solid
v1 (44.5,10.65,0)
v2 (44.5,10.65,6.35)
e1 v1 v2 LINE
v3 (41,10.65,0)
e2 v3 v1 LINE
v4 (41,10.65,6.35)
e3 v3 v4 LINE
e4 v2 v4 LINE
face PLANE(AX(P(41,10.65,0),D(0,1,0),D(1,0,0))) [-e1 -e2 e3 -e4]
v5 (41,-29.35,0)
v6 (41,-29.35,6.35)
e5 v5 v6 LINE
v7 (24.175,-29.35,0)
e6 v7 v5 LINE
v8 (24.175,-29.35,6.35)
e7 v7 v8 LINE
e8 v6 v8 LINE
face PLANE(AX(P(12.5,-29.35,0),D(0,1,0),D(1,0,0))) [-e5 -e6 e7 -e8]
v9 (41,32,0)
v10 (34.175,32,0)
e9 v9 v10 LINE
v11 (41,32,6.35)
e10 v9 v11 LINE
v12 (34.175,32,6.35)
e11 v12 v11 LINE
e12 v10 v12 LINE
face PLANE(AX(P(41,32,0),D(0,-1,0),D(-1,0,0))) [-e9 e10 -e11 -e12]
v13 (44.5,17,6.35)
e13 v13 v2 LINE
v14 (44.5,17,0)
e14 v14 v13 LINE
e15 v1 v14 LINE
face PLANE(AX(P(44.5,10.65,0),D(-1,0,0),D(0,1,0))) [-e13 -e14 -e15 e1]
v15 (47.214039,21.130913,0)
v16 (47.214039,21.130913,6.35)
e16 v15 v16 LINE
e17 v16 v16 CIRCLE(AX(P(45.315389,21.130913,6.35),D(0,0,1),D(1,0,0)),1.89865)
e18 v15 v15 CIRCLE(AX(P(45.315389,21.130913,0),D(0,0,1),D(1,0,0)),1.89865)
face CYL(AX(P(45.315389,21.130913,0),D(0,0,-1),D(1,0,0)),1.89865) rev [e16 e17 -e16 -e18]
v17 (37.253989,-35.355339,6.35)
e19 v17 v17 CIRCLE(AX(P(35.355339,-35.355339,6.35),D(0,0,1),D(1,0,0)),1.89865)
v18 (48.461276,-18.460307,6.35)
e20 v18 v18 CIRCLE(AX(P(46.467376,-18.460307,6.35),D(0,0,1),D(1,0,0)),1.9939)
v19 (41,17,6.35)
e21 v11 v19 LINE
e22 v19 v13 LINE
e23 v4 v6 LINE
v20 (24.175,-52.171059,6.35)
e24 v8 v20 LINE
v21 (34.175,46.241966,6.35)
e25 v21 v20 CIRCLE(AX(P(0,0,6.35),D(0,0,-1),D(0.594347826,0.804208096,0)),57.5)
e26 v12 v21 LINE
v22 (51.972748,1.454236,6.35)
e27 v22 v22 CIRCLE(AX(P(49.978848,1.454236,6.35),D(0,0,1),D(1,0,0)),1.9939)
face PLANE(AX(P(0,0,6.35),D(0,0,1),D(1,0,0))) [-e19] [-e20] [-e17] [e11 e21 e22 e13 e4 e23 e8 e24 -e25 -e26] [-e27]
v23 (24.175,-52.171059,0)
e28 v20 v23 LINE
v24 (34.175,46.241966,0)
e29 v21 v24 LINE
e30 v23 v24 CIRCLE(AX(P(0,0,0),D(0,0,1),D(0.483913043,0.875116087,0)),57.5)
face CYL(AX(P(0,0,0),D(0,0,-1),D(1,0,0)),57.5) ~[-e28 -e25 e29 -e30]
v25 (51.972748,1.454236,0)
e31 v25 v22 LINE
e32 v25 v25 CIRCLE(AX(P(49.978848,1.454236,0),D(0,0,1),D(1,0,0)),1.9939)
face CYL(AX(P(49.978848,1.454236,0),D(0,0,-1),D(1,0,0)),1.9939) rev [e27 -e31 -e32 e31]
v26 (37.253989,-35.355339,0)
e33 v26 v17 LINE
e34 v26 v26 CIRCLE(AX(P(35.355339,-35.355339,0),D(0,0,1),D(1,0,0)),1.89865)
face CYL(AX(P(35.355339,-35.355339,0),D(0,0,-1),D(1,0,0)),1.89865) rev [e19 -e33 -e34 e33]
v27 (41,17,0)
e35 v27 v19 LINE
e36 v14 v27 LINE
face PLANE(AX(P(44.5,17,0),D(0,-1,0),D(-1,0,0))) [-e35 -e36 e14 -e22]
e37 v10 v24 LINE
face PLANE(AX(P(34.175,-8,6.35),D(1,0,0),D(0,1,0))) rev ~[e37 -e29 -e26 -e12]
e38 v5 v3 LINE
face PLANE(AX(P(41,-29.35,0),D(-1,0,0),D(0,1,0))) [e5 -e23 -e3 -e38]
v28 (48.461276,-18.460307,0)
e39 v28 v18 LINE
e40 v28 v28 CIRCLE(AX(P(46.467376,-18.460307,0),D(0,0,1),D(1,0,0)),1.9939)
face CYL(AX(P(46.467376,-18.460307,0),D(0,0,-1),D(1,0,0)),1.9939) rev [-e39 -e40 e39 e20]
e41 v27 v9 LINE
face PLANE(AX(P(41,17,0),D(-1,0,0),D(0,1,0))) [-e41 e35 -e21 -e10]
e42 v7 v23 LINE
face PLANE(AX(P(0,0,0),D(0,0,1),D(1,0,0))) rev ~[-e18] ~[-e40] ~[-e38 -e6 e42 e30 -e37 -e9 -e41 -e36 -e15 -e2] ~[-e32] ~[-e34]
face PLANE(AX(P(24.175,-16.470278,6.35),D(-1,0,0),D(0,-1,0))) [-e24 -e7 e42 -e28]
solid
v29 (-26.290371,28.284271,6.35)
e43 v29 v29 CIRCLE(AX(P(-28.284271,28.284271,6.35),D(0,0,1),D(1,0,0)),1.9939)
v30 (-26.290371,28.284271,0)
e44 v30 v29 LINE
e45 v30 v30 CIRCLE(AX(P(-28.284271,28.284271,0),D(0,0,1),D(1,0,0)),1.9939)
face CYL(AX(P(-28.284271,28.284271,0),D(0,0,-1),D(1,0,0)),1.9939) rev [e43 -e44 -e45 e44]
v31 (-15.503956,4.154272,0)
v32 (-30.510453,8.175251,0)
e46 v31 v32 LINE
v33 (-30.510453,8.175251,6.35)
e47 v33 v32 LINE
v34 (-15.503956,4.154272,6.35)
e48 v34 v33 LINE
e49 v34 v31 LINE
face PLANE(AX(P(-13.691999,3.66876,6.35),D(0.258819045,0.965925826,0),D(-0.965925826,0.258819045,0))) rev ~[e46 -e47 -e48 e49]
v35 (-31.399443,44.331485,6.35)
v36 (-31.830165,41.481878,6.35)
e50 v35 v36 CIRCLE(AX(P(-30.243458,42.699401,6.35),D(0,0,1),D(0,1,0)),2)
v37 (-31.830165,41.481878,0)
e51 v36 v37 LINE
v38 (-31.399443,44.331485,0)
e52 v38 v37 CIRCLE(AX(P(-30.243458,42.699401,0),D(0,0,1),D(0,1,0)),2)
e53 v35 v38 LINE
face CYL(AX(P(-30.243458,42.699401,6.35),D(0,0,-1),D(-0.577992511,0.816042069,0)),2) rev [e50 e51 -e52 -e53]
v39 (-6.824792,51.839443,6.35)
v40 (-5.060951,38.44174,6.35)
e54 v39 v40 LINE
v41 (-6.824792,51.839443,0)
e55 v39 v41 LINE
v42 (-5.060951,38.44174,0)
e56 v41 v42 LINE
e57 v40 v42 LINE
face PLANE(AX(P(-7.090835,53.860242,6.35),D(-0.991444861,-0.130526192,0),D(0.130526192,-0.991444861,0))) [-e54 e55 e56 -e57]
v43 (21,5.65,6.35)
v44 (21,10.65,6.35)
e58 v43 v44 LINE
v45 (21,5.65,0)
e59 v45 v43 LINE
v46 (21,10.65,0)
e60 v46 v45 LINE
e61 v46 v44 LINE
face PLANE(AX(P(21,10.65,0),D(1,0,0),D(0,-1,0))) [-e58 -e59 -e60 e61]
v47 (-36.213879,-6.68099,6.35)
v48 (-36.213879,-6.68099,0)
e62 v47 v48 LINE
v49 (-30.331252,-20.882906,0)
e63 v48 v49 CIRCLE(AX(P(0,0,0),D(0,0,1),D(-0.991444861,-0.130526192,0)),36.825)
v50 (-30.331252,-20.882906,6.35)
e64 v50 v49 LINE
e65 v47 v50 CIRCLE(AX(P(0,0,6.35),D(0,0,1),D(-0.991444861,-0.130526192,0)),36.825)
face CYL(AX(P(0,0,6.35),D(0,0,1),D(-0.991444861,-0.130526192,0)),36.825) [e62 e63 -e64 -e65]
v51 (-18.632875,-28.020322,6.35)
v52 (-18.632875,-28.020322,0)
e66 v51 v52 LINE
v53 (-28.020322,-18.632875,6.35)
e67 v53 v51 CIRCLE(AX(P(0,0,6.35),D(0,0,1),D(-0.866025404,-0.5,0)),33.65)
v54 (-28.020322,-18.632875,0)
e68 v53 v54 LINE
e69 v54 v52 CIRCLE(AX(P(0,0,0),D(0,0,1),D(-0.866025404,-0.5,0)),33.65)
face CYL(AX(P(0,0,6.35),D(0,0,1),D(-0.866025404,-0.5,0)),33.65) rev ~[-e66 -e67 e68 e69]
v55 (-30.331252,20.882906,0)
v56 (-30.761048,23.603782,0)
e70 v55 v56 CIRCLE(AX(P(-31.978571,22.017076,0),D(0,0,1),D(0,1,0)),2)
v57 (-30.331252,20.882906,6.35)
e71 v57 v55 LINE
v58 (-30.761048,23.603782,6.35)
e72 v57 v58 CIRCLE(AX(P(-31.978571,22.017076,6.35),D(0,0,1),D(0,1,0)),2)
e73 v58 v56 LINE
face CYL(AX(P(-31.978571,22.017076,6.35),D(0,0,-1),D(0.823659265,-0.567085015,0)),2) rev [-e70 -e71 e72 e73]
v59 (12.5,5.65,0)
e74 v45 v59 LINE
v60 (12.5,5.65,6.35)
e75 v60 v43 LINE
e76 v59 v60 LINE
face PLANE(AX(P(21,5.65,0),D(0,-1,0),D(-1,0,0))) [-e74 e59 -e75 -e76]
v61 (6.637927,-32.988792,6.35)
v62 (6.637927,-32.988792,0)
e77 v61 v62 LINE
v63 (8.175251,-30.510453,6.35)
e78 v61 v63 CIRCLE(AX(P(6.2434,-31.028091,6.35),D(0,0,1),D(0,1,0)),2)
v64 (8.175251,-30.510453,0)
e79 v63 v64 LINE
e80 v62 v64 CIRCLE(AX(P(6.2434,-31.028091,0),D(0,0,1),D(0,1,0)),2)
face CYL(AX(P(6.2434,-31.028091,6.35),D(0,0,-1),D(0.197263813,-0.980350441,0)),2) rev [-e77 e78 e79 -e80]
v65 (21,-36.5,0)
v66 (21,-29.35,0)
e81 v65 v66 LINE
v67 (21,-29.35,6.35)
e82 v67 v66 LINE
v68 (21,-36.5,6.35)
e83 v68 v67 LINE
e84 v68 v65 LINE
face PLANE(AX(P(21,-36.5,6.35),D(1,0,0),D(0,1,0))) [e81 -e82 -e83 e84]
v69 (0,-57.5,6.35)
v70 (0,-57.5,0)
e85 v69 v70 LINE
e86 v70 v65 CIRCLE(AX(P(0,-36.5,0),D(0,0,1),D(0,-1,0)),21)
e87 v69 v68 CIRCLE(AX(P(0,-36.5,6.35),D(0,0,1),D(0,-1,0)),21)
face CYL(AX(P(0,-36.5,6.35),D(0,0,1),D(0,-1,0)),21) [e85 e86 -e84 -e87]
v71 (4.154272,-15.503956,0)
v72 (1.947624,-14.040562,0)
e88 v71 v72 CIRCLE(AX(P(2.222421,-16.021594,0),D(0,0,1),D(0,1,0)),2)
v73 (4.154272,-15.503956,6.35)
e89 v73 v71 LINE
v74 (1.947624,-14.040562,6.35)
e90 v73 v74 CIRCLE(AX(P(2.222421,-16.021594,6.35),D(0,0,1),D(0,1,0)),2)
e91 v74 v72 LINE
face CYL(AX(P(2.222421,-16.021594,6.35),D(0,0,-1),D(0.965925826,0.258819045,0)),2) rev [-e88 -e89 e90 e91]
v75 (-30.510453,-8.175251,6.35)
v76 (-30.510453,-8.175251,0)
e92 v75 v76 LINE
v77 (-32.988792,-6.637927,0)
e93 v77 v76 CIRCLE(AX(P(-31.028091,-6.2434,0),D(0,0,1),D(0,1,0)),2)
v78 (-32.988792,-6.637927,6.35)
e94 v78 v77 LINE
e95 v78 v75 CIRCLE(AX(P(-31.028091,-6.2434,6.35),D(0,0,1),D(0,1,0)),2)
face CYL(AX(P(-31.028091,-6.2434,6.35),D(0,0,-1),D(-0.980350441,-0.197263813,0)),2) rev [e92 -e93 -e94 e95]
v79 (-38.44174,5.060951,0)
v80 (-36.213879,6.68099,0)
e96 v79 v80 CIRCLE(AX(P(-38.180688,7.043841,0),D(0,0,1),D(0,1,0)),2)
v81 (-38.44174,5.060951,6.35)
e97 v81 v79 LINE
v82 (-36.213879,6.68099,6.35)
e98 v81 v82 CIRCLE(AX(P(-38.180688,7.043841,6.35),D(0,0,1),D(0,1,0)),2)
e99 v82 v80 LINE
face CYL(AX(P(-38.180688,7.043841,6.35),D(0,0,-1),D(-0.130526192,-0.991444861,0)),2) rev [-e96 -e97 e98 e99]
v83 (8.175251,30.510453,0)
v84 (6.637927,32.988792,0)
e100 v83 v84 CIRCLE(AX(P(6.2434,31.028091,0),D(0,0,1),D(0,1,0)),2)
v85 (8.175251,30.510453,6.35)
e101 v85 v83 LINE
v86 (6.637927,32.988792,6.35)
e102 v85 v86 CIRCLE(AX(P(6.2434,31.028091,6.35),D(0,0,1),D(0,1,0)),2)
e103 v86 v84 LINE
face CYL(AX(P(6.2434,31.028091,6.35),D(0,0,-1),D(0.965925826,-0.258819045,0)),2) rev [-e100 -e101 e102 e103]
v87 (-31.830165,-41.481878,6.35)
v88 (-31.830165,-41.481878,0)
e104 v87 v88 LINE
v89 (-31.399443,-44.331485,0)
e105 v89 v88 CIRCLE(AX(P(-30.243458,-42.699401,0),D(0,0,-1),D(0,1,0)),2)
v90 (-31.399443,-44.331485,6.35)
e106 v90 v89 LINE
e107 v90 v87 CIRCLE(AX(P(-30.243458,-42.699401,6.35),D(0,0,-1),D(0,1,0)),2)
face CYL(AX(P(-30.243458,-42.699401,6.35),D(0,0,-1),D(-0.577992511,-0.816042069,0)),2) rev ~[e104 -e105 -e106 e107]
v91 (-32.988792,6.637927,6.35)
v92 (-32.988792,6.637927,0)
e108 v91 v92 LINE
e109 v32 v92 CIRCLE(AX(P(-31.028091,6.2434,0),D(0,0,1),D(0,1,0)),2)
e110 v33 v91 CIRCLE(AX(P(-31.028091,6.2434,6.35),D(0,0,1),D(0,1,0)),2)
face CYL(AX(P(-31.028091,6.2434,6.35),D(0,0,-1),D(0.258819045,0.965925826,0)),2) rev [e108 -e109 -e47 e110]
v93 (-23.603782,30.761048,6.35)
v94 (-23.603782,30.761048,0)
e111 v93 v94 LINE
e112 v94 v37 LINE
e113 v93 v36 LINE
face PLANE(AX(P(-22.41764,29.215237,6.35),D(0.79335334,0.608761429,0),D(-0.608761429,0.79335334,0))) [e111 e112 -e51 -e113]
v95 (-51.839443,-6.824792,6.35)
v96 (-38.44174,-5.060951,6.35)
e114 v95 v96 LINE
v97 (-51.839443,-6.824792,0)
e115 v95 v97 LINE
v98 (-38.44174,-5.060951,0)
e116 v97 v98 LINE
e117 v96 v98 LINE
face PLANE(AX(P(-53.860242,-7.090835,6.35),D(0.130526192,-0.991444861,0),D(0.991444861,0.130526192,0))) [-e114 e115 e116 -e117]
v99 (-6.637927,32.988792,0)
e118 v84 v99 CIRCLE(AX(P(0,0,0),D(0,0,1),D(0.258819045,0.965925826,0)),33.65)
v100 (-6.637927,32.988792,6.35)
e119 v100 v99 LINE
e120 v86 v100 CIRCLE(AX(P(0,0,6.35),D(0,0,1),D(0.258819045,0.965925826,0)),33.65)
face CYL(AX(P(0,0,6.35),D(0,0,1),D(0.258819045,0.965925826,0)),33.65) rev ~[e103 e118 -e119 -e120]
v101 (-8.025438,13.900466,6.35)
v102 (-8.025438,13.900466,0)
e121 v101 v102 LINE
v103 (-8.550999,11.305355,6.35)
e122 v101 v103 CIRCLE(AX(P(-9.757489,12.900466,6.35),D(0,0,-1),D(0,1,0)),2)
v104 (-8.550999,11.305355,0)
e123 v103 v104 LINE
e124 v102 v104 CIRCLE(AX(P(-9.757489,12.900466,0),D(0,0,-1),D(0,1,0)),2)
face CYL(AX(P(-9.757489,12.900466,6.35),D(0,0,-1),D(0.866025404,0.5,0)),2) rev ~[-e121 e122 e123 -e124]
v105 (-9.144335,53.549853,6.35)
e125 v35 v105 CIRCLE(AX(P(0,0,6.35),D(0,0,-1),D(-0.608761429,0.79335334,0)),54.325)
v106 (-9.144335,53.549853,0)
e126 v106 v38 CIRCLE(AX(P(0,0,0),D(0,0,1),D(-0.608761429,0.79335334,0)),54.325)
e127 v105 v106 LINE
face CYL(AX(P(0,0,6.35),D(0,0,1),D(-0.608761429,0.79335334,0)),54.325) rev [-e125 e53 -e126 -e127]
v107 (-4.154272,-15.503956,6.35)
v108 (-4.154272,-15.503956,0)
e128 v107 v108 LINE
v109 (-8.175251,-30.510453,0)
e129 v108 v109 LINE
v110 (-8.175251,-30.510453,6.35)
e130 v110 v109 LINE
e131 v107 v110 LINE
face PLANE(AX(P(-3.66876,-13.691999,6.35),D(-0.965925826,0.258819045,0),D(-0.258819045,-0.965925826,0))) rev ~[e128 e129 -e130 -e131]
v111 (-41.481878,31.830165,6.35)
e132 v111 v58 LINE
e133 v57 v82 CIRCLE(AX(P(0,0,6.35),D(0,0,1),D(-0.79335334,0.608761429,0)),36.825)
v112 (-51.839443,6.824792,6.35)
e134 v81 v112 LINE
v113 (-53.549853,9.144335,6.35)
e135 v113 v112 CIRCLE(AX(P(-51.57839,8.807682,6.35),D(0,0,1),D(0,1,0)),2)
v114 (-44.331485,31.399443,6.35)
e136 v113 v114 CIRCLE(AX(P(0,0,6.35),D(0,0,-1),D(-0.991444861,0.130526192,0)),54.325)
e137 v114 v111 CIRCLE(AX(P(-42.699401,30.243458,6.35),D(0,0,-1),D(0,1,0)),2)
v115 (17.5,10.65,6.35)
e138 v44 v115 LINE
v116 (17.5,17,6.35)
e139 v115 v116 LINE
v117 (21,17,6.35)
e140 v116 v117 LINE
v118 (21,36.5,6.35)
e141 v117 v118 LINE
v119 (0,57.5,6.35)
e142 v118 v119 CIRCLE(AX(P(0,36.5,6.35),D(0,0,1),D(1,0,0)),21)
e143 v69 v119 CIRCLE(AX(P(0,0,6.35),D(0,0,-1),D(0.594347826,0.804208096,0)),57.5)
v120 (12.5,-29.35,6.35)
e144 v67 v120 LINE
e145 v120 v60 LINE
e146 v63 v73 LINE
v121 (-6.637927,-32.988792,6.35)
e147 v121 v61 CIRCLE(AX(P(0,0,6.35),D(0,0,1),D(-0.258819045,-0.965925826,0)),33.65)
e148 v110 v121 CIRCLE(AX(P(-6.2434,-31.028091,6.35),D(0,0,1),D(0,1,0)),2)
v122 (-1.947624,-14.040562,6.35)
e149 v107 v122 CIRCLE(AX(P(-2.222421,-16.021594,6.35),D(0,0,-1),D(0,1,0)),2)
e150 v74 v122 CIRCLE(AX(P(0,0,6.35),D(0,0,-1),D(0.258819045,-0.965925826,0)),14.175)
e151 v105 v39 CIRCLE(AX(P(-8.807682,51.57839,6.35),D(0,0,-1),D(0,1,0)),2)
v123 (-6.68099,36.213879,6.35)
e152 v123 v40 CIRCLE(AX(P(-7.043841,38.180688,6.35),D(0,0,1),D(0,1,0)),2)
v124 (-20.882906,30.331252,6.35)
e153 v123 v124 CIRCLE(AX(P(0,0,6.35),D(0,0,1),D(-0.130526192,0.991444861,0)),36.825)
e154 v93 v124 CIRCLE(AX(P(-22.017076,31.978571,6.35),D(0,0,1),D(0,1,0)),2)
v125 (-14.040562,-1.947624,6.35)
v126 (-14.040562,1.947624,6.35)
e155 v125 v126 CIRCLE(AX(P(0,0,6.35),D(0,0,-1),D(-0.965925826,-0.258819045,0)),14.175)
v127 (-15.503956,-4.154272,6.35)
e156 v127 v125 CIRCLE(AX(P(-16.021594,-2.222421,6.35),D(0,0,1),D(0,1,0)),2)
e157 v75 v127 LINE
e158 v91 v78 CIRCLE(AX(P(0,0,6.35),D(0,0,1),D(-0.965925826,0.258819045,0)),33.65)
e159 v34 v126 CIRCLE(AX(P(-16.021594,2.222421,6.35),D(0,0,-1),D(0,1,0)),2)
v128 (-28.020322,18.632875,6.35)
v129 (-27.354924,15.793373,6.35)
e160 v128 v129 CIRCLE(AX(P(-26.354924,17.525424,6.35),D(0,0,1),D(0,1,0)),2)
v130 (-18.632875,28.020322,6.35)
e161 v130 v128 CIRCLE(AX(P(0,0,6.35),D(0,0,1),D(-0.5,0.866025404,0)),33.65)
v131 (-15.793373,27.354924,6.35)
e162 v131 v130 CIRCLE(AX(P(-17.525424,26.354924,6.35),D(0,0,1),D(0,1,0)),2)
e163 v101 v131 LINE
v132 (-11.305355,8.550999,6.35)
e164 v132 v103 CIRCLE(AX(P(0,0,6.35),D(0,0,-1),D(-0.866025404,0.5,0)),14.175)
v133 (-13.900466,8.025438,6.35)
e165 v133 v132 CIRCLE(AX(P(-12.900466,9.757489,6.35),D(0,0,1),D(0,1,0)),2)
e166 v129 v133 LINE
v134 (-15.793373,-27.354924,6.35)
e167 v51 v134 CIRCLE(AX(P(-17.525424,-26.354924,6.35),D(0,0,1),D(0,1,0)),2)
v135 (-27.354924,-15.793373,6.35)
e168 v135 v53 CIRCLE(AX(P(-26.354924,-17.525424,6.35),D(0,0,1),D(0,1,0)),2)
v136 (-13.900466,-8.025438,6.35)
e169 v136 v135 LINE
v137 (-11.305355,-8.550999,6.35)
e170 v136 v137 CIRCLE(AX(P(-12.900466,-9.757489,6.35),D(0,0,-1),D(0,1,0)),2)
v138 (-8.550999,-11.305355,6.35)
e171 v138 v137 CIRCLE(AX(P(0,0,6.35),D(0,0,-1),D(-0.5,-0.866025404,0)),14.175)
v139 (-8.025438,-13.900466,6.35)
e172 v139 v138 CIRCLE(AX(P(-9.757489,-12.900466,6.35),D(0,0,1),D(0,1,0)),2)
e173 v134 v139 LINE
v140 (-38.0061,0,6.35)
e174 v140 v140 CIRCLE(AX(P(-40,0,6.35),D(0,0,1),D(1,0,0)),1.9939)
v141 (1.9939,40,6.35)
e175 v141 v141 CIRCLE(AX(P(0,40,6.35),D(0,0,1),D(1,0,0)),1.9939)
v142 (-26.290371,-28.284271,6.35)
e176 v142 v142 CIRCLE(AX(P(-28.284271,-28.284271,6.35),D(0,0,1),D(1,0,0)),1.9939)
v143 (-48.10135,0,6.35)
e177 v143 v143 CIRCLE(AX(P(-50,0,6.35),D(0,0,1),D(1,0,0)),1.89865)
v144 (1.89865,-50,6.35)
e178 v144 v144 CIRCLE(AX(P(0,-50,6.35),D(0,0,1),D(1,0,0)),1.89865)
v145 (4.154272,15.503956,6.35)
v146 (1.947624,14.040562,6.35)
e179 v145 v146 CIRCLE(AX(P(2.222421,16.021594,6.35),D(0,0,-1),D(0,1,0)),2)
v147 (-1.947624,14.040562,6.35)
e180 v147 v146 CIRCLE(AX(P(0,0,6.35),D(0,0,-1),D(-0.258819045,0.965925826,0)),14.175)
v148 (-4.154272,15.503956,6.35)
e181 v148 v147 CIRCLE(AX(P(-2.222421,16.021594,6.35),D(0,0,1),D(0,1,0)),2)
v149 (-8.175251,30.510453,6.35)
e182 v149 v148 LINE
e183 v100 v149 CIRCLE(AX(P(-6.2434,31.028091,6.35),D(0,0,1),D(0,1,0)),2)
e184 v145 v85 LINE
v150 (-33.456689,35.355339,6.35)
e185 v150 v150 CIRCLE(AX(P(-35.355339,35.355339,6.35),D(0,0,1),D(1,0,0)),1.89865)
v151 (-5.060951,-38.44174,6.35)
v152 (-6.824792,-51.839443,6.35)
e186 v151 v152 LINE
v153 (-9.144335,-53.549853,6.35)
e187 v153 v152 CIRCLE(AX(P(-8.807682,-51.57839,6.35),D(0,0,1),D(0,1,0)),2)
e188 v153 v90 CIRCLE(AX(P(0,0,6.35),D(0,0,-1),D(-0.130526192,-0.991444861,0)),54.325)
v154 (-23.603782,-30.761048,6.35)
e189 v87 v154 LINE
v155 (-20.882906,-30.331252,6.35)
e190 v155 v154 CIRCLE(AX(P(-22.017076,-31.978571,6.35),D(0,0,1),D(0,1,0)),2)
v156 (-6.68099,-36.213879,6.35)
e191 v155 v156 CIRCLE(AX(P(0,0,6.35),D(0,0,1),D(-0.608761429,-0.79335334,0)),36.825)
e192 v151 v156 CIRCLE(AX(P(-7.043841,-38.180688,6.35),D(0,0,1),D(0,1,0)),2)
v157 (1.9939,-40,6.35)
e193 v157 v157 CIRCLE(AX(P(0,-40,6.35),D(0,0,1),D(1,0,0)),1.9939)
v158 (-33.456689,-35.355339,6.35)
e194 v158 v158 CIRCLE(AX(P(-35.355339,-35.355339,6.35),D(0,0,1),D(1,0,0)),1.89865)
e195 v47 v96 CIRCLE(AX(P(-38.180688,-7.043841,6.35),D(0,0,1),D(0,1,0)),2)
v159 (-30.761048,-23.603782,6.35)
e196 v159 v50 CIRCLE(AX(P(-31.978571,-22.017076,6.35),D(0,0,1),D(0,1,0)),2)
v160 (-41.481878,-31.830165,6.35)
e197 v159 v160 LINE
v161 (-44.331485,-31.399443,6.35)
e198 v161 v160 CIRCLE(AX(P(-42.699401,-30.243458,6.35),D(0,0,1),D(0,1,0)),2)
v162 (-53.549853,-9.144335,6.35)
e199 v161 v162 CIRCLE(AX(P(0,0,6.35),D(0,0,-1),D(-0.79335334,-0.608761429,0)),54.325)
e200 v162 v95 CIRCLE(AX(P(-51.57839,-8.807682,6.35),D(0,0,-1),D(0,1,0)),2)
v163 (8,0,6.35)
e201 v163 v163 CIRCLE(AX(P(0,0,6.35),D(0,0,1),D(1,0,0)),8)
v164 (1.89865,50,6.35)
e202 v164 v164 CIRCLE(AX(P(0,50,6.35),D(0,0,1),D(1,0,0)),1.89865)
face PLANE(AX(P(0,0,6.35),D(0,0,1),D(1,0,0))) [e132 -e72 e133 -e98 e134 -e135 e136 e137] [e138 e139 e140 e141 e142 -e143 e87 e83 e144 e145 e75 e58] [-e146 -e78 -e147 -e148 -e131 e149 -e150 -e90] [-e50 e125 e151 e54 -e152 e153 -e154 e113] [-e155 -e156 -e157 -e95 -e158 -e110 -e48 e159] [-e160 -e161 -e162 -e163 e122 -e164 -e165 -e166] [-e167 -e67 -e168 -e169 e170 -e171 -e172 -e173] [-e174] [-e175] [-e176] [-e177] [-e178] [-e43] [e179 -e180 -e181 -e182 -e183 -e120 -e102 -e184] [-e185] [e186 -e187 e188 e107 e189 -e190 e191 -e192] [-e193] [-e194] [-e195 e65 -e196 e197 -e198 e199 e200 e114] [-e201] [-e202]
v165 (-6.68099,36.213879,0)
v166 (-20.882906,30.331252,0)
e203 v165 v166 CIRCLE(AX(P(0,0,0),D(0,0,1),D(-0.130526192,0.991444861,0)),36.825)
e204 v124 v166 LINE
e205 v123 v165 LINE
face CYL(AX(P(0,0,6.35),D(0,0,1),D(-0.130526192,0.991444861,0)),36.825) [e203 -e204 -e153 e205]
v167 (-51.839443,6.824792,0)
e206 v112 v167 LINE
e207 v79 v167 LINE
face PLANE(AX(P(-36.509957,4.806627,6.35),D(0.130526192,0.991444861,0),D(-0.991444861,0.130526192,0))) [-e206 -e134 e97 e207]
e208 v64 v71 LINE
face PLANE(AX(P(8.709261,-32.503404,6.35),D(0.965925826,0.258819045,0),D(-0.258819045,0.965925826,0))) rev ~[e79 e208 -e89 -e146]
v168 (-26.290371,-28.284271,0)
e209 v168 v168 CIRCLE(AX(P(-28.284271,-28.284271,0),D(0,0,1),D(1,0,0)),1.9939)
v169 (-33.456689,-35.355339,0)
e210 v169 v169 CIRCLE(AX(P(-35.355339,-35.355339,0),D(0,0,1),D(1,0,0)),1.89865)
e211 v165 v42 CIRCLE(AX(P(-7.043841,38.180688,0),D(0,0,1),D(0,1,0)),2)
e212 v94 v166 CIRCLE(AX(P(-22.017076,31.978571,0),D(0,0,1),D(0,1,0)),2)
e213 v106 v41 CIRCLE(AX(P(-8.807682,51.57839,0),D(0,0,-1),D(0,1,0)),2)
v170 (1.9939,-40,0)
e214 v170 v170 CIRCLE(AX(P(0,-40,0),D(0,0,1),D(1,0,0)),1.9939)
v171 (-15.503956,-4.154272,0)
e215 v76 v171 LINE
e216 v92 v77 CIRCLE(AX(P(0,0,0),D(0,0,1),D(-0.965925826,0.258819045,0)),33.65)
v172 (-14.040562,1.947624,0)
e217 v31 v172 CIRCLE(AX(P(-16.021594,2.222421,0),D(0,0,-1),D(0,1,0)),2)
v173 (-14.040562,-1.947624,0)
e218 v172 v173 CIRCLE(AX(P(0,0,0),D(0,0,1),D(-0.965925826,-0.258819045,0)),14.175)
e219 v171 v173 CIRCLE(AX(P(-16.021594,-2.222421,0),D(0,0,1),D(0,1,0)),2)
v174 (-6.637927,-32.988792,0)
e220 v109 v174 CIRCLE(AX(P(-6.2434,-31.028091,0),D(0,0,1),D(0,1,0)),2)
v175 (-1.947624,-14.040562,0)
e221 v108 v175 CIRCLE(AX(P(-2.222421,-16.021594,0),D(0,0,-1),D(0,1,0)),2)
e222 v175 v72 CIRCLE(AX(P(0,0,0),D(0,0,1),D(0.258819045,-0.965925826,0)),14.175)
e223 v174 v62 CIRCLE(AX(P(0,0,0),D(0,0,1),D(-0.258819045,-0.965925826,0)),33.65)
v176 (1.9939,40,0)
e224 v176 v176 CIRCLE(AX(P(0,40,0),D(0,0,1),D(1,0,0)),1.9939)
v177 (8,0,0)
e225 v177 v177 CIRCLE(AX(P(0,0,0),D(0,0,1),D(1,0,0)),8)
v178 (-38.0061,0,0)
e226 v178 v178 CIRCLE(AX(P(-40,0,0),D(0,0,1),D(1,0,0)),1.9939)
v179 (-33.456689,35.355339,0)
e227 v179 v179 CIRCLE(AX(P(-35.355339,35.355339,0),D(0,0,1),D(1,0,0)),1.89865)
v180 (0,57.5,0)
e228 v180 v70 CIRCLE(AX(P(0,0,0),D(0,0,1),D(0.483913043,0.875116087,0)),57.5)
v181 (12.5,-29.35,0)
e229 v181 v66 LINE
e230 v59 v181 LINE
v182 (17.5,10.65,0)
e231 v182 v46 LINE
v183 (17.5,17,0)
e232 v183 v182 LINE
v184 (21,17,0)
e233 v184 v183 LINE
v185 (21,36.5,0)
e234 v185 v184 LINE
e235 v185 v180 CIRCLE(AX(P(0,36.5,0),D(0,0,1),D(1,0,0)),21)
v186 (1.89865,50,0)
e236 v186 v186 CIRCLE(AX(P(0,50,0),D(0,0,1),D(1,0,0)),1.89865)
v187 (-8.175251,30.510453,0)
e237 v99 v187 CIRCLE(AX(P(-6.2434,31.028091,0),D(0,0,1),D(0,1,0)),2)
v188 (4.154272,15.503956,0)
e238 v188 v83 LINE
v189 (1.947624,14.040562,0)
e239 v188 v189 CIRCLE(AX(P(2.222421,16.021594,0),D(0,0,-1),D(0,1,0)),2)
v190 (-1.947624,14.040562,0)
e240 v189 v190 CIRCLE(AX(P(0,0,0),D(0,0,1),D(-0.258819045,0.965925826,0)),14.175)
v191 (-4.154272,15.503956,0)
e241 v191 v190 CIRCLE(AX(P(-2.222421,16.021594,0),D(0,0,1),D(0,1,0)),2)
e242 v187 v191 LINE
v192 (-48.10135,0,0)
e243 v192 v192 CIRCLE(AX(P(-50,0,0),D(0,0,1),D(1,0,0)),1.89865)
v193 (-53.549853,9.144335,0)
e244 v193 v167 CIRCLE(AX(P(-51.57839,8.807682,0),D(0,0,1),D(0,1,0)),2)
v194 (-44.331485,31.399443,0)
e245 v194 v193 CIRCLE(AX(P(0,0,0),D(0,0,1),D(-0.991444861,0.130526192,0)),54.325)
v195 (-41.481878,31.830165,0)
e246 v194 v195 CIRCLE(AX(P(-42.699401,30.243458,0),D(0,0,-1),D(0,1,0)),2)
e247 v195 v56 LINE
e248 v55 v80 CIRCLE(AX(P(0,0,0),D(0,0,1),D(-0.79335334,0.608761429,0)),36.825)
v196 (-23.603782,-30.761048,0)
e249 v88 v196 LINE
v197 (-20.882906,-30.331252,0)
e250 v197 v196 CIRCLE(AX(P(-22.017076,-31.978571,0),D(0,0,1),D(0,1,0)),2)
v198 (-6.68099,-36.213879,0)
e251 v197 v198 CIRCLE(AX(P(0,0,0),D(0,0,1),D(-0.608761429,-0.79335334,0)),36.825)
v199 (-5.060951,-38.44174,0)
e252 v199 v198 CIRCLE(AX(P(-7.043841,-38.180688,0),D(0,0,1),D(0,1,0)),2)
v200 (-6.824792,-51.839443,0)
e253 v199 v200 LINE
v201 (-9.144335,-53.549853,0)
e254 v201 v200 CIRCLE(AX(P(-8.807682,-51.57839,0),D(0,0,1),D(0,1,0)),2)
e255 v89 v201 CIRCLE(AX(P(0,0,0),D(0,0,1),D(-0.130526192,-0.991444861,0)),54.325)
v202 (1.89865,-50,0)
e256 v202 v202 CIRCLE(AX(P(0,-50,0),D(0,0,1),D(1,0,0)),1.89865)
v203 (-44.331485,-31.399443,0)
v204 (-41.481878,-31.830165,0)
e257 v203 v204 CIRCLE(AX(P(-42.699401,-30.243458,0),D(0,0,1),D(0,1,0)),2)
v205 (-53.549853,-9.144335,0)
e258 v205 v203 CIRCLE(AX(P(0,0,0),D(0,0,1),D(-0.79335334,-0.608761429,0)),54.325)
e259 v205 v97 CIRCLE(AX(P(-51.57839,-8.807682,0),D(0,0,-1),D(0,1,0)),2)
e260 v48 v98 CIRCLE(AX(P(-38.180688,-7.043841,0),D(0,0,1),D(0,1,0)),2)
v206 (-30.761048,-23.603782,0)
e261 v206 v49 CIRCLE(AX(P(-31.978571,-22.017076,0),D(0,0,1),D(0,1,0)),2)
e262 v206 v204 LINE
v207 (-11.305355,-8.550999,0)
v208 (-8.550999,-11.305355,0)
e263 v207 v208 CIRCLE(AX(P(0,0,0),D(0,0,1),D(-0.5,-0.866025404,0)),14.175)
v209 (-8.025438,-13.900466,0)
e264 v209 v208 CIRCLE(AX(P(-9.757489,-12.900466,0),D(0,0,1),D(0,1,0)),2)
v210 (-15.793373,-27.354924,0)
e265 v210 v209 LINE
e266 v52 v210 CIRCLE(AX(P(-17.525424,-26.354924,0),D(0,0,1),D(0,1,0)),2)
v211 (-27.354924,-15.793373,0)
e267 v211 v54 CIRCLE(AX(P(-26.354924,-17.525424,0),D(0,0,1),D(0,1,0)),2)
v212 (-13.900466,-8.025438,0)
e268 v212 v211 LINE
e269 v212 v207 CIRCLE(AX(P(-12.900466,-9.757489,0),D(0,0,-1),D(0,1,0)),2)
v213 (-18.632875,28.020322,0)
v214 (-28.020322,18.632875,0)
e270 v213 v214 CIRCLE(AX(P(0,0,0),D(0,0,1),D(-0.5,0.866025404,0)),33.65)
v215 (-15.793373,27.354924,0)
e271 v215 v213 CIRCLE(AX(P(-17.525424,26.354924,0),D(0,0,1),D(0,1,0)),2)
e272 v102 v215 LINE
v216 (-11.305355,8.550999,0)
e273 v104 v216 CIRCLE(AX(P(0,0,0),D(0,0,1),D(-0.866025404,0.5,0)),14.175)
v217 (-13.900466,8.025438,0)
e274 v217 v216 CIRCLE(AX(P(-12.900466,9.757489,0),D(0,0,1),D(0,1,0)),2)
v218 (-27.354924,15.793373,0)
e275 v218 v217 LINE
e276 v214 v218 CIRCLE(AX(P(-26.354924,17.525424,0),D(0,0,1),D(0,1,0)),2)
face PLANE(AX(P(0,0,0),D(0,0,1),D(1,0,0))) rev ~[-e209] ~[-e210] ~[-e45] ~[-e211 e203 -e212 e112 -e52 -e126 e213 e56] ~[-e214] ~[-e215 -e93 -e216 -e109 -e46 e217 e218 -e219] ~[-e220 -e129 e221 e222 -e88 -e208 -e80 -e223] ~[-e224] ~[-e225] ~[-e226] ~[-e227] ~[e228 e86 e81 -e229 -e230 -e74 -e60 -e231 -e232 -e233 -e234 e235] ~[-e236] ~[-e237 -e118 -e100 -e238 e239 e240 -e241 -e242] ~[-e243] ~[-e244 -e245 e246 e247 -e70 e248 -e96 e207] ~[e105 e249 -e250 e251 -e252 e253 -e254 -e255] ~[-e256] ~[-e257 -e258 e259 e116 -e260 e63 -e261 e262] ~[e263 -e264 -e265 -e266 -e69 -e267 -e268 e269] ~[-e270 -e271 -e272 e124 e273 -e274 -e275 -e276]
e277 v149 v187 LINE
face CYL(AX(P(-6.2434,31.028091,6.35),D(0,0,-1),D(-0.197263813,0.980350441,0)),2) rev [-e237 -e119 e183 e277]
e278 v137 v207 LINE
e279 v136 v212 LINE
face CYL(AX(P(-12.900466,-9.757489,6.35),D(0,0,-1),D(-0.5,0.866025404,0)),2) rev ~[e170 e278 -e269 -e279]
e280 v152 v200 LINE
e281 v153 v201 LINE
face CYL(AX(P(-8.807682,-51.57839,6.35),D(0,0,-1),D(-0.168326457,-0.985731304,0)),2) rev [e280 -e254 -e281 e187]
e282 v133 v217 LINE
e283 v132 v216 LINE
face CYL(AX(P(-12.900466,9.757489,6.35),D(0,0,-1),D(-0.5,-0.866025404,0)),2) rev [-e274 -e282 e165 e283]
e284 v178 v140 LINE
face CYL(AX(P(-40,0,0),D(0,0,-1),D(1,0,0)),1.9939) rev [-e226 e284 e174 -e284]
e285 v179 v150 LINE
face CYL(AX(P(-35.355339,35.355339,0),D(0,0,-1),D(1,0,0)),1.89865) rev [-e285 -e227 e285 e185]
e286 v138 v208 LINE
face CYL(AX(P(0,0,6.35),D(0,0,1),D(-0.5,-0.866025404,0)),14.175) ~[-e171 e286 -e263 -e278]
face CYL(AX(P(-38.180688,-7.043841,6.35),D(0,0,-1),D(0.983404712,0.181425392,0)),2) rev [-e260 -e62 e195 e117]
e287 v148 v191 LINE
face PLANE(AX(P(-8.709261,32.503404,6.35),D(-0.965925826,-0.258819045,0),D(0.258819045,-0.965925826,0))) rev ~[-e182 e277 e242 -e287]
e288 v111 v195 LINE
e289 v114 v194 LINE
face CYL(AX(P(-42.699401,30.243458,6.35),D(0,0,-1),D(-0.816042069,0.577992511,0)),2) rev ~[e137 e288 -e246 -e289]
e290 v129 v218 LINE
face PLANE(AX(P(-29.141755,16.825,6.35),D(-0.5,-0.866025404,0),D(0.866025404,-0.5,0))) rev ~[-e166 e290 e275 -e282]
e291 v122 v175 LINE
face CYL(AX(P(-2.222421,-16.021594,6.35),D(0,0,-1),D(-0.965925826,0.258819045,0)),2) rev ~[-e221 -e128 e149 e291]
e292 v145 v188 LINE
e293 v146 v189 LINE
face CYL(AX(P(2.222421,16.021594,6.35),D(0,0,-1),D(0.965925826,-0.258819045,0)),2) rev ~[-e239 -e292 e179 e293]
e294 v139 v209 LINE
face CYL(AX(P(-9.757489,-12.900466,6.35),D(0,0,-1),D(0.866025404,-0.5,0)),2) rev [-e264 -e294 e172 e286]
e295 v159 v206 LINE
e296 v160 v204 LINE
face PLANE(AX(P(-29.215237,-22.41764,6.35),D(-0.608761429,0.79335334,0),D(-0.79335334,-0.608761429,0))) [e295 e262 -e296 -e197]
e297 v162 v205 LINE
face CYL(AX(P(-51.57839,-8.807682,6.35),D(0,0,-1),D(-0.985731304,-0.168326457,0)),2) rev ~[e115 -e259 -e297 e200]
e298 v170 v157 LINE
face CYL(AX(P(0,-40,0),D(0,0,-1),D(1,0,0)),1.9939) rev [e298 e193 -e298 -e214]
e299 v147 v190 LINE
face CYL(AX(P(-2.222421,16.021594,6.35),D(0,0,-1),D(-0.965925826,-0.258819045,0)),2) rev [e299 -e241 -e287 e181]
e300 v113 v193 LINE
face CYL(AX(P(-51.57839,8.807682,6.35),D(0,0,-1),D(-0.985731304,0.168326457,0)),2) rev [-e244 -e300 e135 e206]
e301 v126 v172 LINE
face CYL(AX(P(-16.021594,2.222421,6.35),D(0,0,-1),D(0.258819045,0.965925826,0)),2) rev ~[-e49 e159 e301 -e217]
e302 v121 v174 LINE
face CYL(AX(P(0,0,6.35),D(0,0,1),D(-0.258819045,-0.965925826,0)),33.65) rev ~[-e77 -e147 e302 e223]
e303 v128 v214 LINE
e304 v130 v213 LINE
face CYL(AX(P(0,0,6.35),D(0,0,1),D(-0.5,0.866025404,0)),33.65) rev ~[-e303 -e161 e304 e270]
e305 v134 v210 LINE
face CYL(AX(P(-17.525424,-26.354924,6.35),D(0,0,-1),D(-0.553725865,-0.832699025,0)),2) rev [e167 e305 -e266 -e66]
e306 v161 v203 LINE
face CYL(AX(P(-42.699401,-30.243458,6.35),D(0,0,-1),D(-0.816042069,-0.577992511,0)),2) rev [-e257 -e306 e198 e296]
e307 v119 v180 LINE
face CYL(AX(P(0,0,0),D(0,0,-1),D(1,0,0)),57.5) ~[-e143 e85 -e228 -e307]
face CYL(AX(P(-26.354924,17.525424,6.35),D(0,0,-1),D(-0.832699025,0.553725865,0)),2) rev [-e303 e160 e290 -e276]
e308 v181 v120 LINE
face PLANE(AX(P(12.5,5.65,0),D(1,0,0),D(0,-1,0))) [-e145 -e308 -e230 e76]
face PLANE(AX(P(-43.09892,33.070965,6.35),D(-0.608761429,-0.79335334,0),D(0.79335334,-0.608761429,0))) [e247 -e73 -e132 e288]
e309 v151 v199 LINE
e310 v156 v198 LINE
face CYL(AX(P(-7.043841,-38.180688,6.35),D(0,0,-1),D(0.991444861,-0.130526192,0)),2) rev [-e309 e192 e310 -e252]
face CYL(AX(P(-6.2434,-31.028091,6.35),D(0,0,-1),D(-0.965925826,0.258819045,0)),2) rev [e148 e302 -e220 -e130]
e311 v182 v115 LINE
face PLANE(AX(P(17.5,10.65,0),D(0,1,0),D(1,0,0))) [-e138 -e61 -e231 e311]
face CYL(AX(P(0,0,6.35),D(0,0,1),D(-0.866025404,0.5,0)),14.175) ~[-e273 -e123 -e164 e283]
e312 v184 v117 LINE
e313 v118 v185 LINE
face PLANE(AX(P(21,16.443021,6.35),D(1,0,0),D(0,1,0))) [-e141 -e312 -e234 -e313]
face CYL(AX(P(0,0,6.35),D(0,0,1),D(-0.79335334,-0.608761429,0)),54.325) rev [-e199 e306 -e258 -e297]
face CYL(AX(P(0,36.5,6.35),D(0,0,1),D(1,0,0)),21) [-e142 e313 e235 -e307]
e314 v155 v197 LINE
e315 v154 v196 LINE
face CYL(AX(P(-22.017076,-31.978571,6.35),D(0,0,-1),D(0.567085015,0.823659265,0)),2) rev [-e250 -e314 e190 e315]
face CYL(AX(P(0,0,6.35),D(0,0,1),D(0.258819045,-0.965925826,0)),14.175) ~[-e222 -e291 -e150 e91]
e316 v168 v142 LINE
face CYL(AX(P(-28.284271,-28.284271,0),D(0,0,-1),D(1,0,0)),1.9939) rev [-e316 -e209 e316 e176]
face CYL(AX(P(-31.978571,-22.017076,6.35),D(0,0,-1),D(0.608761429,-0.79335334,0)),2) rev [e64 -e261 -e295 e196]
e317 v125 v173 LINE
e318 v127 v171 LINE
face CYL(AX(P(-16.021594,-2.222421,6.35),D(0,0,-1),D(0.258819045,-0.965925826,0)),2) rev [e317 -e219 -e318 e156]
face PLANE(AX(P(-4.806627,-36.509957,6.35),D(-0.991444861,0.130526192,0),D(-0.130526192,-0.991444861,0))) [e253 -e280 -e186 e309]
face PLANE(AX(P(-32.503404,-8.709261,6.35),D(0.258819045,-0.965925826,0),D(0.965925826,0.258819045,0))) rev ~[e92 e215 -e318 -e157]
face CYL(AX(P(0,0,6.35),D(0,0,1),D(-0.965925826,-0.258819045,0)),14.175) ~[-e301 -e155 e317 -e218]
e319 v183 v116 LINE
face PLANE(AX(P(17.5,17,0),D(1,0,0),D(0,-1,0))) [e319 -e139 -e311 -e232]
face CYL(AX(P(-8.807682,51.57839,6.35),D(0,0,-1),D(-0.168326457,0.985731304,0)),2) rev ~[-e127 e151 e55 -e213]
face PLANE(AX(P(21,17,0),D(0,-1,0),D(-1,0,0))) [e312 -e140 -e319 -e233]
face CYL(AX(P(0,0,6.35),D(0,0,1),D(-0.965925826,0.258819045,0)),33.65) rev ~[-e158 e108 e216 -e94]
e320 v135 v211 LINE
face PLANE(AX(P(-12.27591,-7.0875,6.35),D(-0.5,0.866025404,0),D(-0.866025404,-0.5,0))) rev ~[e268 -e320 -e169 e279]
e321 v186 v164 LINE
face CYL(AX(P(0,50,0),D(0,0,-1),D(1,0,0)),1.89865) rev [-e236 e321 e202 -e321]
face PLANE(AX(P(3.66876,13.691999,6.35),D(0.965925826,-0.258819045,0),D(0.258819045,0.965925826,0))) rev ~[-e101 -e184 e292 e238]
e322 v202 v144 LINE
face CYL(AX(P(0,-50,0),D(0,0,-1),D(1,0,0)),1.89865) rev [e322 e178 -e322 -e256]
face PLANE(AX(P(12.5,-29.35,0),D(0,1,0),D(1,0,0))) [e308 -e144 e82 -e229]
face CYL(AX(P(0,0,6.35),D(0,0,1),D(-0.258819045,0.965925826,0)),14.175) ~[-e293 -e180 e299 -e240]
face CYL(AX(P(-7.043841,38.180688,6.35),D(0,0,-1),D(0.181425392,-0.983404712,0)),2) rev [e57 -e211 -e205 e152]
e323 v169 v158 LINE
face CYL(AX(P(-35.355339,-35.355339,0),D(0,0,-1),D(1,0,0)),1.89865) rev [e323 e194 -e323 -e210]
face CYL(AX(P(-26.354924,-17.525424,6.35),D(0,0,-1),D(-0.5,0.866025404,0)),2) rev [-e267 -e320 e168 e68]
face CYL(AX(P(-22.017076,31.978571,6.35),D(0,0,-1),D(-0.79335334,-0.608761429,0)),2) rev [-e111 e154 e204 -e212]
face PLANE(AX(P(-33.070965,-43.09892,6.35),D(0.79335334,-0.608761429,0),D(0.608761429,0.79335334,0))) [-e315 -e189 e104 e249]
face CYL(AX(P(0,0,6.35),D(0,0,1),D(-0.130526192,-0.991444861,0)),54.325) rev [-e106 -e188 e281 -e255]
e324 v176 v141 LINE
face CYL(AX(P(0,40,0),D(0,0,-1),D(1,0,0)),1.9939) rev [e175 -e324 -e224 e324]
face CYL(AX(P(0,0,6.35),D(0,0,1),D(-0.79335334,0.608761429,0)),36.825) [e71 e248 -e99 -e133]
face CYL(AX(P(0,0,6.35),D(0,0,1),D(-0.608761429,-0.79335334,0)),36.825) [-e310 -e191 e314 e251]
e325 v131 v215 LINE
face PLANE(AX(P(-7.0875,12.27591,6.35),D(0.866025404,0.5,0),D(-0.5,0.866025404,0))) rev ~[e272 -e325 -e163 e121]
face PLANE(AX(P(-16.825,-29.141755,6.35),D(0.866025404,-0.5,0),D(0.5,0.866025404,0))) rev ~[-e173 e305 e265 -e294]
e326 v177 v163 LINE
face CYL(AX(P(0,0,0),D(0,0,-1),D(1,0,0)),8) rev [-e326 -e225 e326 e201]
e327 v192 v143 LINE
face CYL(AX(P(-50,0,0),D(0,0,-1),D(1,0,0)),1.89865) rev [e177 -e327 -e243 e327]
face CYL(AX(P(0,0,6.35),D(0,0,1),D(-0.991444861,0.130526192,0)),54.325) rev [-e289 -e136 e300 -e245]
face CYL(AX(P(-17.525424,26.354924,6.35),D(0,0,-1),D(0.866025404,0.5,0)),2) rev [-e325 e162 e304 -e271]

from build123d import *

# Parameters (mm, degrees)
SKETCH1_R                = 57.5
SKETCH1_R_2              = 1.89865
SKETCH1_R_3              = 1.9939
SKETCH1_R_4              = 8
BOSS_EXTRUDE1_DEPTH      = 6.35
CUT_EXTRUDE1_DEPTH       = 82.564836173
SKETCH3_W                = 6.35
SKETCH3_H                = 80
CUT_EXTRUDE3_DEPTH       = 82.564836173
CUT_EXTRUDE4_DEPTH       = 82.564836173
CUT_EXTRUDE5_DEPTH       = 82.564836173
CUT_EXTRUDE6_DEPTH       = 82.564836173
FILLET1_R                = 2
CIRPATTERN1_COUNT        = 8
FILLET1_OF_CIRPATTERN1_R = 2
CUT_EXTRUDE7_DEPTH       = 10
FILLET2_R                = 2
CIRPATTERN2_COUNT        = 8
FILLET2_OF_CIRPATTERN2_R = 2


with BuildPart() as part:
    # Sketch1 → Boss-Extrude1 (new body)
    with BuildSketch(Plane.XY):
        Circle(SKETCH1_R)
        with Locations((45.315389352, 21.130913087)):
            Circle(SKETCH1_R_2, mode=Mode.SUBTRACT)
        with Locations((46.467376211, -18.460307366)):
            Circle(SKETCH1_R_3, mode=Mode.SUBTRACT)
        Circle(SKETCH1_R_4, mode=Mode.SUBTRACT)
        with Locations((49.978847504, 1.454235937)):
            Circle(SKETCH1_R_3, mode=Mode.SUBTRACT)
        with Locations((0, -40)):
            Circle(SKETCH1_R_3, mode=Mode.SUBTRACT)
        with Locations((0, -50)):
            Circle(SKETCH1_R_2, mode=Mode.SUBTRACT)
        with Locations((-28.284271247, -28.284271247)):
            Circle(SKETCH1_R_3, mode=Mode.SUBTRACT)
        with Locations((-35.355339059, -35.355339059)):
            Circle(SKETCH1_R_2, mode=Mode.SUBTRACT)
        with Locations((-40, 0)):
            Circle(SKETCH1_R_3, mode=Mode.SUBTRACT)
        with Locations((-50, 0)):
            Circle(SKETCH1_R_2, mode=Mode.SUBTRACT)
        with Locations((-28.284271247, 28.284271247)):
            Circle(SKETCH1_R_3, mode=Mode.SUBTRACT)
        with Locations((-35.355339059, 35.355339059)):
            Circle(SKETCH1_R_2, mode=Mode.SUBTRACT)
        with Locations((0, 40)):
            Circle(SKETCH1_R_3, mode=Mode.SUBTRACT)
        with Locations((0, 50)):
            Circle(SKETCH1_R_2, mode=Mode.SUBTRACT)
        with Locations((35.355339059, -35.355339059)):
            Circle(SKETCH1_R_2, mode=Mode.SUBTRACT)
    extrude(amount=BOSS_EXTRUDE1_DEPTH)

    # Sketch2 → Cut-Extrude1 (cut, through all)
    with BuildSketch(Plane.XY):
        Polygon((12.5, -29.35), (41, -29.35), (41, 10.65), (44.5, 10.65), (44.5, 17), (41, 17), (41, 32), (21, 32), (21, 17), (17.5, 17), (17.5, 10.65), (21, 10.65), (21, 5.65), (12.5, 5.65), align=None)
    extrude(amount=CUT_EXTRUDE1_DEPTH, mode=Mode.SUBTRACT)

    # Sketch3 → Cut-Extrude3 (cut, through all)
    with BuildSketch(Plane.XY.offset(6.35)):
        with Locations((31, 32)):
            Rectangle(SKETCH3_W, SKETCH3_H)
    extrude(amount=-CUT_EXTRUDE3_DEPTH, mode=Mode.SUBTRACT)

    # Sketch4 → Cut-Extrude4 (cut, through all)
    with BuildSketch(Plane.XY.offset(6.35)):
        with BuildLine():
            Line((21, -36.5), (21, -16.443021443))
            Line((21, -16.443021443), (24.175, -16.470277755))
            Line((24.175, -16.470277755), (24.175, -57.5))
            Line((24.175, -57.5), (0, -57.5))
            ThreePointArc((0, -57.5), (14.849242405, -51.349242405), (21, -36.5))
        make_face()
        with BuildLine():
            Line((0, 57.5), (24.175, 57.5))
            Line((24.175, 57.5), (24.175, 16.470277755))
            Line((24.175, 16.470277755), (21, 16.443021443))
            Line((21, 16.443021443), (21, 36.5))
            ThreePointArc((21, 36.5), (14.849242405, 51.349242405), (0, 57.5))
        make_face()
    extrude(amount=-CUT_EXTRUDE4_DEPTH, mode=Mode.SUBTRACT)


with BuildPart() as cut_extrude4_piece_1:
    # of the separate pieces the step leaves, piece 1, a body of its own (cut_extrude4_pieces)
    add(part.part.solids().sort_by_distance((0, 57.5, 0))[0])

    # Sketch6 → Cut-Extrude6 (cut, through all)
    with BuildSketch(Plane.XY.offset(6.35)):
        with BuildLine():
            Line((-13.691998588, 3.668759964), (-32.503404055, 8.709260868))
            ThreePointArc((-32.503404055, 8.709260868), (-33.65, 0), (-32.503404055, -8.709260868))
            Line((-32.503404055, -8.709260868), (-13.691998588, -3.668759964))
            ThreePointArc((-13.691998588, -3.668759964), (-14.175, 0), (-13.691998588, 3.668759964))
        make_face()
    cut_extrude6 = extrude(amount=-CUT_EXTRUDE6_DEPTH, mode=Mode.SUBTRACT)

    # Fillet1
    fillet1_edges = [cut_extrude4_piece_1.edges().sort_by_distance(p)[0] for p in [
        (-13.691998588, 3.668759964, 3.175),
        (-13.691998588, -3.668759964, 3.175),
        (-32.503404055, -8.709260868, 3.175),
        (-32.503404055, 8.709260868, 3.175),
    ]]
    fillet(fillet1_edges, radius=FILLET1_R)

    # CirPattern1: Cut-Extrude6 ×8 about axis, 3 skipped
    cirpattern1_axis = Axis((0, 0, 0), (0, 0, -1))
    add([cut_extrude6.rotate(cirpattern1_axis, i * 360 / CIRPATTERN1_COUNT) for i in range(1, CIRPATTERN1_COUNT) if i not in (3, 4, 5)], mode=Mode.SUBTRACT)

    # Fillet1 of CirPattern1
    fillet1_of_cirpattern1_edges = [cut_extrude4_piece_1.edges().sort_by_distance(p)[0] for p in [
        (-7.0875, 12.275910099, 3.175),
        (-12.275910099, 7.0875, 3.175),
        (-29.141754837, 16.825, 3.175),
        (-16.825, 29.141754837, 3.175),
        (3.668759964, 13.691998588, 3.175),
        (-3.668759964, 13.691998588, 3.175),
        (-8.709260868, 32.503404055, 3.175),
        (8.709260868, 32.503404055, 3.175),
        (-3.668759964, -13.691998588, 3.175),
        (3.668759964, -13.691998588, 3.175),
        (8.709260868, -32.503404055, 3.175),
        (-8.709260868, -32.503404055, 3.175),
        (-12.275910099, -7.0875, 3.175),
        (-7.0875, -12.275910099, 3.175),
        (-16.825, -29.141754837, 3.175),
        (-29.141754837, -16.825, 3.175),
    ]]
    fillet(fillet1_of_cirpattern1_edges, radius=FILLET1_OF_CIRPATTERN1_R)

    # Sketch7 → Cut-Extrude7 (cut)
    with BuildSketch(Plane.XY.offset(6.35)):
        with BuildLine():
            Line((-43.098920211, 33.070964631), (-29.215236756, 22.417639623))
            ThreePointArc((-29.215236756, 22.417639623), (-34.021863785, 14.092317397), (-36.50995702, 4.806627029))
            Line((-36.50995702, 4.806627029), (-53.860242094, 7.090835392))
            ThreePointArc((-53.860242094, 7.090835392), (-50.189755604, 20.789277463), (-43.098920211, 33.070964631))
        make_face()
    cut_extrude7 = extrude(amount=-CUT_EXTRUDE7_DEPTH, mode=Mode.SUBTRACT)

    # Fillet2
    fillet2_edges = [cut_extrude4_piece_1.edges().sort_by_distance(p)[0] for p in [
        (-29.215236756, 22.417639623, 3.175),
        (-36.50995702, 4.806627029, 3.175),
        (-53.860242094, 7.090835392, 3.175),
        (-43.098920211, 33.070964631, 3.175),
    ]]
    fillet(fillet2_edges, radius=FILLET2_R)

    # CirPattern2: Cut-Extrude7 ×8 about axis, 4 skipped
    cirpattern2_axis = Axis((0, 0, 0), (0, 0, -1))
    add([cut_extrude7.rotate(cirpattern2_axis, i * 360 / CIRPATTERN2_COUNT) for i in range(1, CIRPATTERN2_COUNT) if i not in (2, 3, 4, 5)], mode=Mode.SUBTRACT)

    # Fillet2 of CirPattern2
    fillet2_of_cirpattern2_edges = [cut_extrude4_piece_1.edges().sort_by_distance(p)[0] for p in [
        (-4.806627029, 36.50995702, 3.175),
        (-22.417639623, 29.215236756, 3.175),
        (-33.070964631, 43.098920211, 3.175),
        (-7.090835392, 53.860242094, 3.175),
        (-22.417639623, -29.215236756, 3.175),
        (-4.806627029, -36.50995702, 3.175),
        (-7.090835392, -53.860242094, 3.175),
        (-33.070964631, -43.098920211, 3.175),
        (-36.50995702, -4.806627029, 3.175),
        (-29.215236756, -22.417639623, 3.175),
        (-43.098920211, -33.070964631, 3.175),
        (-53.860242094, -7.090835392, 3.175),
    ]]
    fillet(fillet2_of_cirpattern2_edges, radius=FILLET2_OF_CIRPATTERN2_R)


with BuildPart() as cut_extrude4_piece_2:
    # of the separate pieces the step leaves, piece 2, a body of its own (cut_extrude4_pieces)
    add(part.part.solids().sort_by_distance((24.175, -52.171058787, 0))[0])


with BuildPart() as cut_extrude4_piece_3:
    # of the separate pieces the step leaves, piece 3, a body of its own (cut_extrude4_pieces)
    add(part.part.solids().sort_by_distance((24.175, 52.171058787, 6.35))[0])

    # Sketch5 → Cut-Extrude5 (cut, through all)
    with BuildSketch(Plane.XY.offset(6.35)):
        with BuildLine():
            Line((24.175, 52.171058787), (24.175, 32))
            Line((24.175, 32), (27.825, 32))
            Line((27.825, 32), (27.825, 50.319175023))
            ThreePointArc((27.825, 50.319175023), (26.016482629, 51.277603607), (24.175, 52.171058787))
        make_face()
    extrude(amount=-CUT_EXTRUDE5_DEPTH, mode=Mode.SUBTRACT)


solid = Compound([cut_extrude4_piece_1.part, cut_extrude4_piece_2.part])
